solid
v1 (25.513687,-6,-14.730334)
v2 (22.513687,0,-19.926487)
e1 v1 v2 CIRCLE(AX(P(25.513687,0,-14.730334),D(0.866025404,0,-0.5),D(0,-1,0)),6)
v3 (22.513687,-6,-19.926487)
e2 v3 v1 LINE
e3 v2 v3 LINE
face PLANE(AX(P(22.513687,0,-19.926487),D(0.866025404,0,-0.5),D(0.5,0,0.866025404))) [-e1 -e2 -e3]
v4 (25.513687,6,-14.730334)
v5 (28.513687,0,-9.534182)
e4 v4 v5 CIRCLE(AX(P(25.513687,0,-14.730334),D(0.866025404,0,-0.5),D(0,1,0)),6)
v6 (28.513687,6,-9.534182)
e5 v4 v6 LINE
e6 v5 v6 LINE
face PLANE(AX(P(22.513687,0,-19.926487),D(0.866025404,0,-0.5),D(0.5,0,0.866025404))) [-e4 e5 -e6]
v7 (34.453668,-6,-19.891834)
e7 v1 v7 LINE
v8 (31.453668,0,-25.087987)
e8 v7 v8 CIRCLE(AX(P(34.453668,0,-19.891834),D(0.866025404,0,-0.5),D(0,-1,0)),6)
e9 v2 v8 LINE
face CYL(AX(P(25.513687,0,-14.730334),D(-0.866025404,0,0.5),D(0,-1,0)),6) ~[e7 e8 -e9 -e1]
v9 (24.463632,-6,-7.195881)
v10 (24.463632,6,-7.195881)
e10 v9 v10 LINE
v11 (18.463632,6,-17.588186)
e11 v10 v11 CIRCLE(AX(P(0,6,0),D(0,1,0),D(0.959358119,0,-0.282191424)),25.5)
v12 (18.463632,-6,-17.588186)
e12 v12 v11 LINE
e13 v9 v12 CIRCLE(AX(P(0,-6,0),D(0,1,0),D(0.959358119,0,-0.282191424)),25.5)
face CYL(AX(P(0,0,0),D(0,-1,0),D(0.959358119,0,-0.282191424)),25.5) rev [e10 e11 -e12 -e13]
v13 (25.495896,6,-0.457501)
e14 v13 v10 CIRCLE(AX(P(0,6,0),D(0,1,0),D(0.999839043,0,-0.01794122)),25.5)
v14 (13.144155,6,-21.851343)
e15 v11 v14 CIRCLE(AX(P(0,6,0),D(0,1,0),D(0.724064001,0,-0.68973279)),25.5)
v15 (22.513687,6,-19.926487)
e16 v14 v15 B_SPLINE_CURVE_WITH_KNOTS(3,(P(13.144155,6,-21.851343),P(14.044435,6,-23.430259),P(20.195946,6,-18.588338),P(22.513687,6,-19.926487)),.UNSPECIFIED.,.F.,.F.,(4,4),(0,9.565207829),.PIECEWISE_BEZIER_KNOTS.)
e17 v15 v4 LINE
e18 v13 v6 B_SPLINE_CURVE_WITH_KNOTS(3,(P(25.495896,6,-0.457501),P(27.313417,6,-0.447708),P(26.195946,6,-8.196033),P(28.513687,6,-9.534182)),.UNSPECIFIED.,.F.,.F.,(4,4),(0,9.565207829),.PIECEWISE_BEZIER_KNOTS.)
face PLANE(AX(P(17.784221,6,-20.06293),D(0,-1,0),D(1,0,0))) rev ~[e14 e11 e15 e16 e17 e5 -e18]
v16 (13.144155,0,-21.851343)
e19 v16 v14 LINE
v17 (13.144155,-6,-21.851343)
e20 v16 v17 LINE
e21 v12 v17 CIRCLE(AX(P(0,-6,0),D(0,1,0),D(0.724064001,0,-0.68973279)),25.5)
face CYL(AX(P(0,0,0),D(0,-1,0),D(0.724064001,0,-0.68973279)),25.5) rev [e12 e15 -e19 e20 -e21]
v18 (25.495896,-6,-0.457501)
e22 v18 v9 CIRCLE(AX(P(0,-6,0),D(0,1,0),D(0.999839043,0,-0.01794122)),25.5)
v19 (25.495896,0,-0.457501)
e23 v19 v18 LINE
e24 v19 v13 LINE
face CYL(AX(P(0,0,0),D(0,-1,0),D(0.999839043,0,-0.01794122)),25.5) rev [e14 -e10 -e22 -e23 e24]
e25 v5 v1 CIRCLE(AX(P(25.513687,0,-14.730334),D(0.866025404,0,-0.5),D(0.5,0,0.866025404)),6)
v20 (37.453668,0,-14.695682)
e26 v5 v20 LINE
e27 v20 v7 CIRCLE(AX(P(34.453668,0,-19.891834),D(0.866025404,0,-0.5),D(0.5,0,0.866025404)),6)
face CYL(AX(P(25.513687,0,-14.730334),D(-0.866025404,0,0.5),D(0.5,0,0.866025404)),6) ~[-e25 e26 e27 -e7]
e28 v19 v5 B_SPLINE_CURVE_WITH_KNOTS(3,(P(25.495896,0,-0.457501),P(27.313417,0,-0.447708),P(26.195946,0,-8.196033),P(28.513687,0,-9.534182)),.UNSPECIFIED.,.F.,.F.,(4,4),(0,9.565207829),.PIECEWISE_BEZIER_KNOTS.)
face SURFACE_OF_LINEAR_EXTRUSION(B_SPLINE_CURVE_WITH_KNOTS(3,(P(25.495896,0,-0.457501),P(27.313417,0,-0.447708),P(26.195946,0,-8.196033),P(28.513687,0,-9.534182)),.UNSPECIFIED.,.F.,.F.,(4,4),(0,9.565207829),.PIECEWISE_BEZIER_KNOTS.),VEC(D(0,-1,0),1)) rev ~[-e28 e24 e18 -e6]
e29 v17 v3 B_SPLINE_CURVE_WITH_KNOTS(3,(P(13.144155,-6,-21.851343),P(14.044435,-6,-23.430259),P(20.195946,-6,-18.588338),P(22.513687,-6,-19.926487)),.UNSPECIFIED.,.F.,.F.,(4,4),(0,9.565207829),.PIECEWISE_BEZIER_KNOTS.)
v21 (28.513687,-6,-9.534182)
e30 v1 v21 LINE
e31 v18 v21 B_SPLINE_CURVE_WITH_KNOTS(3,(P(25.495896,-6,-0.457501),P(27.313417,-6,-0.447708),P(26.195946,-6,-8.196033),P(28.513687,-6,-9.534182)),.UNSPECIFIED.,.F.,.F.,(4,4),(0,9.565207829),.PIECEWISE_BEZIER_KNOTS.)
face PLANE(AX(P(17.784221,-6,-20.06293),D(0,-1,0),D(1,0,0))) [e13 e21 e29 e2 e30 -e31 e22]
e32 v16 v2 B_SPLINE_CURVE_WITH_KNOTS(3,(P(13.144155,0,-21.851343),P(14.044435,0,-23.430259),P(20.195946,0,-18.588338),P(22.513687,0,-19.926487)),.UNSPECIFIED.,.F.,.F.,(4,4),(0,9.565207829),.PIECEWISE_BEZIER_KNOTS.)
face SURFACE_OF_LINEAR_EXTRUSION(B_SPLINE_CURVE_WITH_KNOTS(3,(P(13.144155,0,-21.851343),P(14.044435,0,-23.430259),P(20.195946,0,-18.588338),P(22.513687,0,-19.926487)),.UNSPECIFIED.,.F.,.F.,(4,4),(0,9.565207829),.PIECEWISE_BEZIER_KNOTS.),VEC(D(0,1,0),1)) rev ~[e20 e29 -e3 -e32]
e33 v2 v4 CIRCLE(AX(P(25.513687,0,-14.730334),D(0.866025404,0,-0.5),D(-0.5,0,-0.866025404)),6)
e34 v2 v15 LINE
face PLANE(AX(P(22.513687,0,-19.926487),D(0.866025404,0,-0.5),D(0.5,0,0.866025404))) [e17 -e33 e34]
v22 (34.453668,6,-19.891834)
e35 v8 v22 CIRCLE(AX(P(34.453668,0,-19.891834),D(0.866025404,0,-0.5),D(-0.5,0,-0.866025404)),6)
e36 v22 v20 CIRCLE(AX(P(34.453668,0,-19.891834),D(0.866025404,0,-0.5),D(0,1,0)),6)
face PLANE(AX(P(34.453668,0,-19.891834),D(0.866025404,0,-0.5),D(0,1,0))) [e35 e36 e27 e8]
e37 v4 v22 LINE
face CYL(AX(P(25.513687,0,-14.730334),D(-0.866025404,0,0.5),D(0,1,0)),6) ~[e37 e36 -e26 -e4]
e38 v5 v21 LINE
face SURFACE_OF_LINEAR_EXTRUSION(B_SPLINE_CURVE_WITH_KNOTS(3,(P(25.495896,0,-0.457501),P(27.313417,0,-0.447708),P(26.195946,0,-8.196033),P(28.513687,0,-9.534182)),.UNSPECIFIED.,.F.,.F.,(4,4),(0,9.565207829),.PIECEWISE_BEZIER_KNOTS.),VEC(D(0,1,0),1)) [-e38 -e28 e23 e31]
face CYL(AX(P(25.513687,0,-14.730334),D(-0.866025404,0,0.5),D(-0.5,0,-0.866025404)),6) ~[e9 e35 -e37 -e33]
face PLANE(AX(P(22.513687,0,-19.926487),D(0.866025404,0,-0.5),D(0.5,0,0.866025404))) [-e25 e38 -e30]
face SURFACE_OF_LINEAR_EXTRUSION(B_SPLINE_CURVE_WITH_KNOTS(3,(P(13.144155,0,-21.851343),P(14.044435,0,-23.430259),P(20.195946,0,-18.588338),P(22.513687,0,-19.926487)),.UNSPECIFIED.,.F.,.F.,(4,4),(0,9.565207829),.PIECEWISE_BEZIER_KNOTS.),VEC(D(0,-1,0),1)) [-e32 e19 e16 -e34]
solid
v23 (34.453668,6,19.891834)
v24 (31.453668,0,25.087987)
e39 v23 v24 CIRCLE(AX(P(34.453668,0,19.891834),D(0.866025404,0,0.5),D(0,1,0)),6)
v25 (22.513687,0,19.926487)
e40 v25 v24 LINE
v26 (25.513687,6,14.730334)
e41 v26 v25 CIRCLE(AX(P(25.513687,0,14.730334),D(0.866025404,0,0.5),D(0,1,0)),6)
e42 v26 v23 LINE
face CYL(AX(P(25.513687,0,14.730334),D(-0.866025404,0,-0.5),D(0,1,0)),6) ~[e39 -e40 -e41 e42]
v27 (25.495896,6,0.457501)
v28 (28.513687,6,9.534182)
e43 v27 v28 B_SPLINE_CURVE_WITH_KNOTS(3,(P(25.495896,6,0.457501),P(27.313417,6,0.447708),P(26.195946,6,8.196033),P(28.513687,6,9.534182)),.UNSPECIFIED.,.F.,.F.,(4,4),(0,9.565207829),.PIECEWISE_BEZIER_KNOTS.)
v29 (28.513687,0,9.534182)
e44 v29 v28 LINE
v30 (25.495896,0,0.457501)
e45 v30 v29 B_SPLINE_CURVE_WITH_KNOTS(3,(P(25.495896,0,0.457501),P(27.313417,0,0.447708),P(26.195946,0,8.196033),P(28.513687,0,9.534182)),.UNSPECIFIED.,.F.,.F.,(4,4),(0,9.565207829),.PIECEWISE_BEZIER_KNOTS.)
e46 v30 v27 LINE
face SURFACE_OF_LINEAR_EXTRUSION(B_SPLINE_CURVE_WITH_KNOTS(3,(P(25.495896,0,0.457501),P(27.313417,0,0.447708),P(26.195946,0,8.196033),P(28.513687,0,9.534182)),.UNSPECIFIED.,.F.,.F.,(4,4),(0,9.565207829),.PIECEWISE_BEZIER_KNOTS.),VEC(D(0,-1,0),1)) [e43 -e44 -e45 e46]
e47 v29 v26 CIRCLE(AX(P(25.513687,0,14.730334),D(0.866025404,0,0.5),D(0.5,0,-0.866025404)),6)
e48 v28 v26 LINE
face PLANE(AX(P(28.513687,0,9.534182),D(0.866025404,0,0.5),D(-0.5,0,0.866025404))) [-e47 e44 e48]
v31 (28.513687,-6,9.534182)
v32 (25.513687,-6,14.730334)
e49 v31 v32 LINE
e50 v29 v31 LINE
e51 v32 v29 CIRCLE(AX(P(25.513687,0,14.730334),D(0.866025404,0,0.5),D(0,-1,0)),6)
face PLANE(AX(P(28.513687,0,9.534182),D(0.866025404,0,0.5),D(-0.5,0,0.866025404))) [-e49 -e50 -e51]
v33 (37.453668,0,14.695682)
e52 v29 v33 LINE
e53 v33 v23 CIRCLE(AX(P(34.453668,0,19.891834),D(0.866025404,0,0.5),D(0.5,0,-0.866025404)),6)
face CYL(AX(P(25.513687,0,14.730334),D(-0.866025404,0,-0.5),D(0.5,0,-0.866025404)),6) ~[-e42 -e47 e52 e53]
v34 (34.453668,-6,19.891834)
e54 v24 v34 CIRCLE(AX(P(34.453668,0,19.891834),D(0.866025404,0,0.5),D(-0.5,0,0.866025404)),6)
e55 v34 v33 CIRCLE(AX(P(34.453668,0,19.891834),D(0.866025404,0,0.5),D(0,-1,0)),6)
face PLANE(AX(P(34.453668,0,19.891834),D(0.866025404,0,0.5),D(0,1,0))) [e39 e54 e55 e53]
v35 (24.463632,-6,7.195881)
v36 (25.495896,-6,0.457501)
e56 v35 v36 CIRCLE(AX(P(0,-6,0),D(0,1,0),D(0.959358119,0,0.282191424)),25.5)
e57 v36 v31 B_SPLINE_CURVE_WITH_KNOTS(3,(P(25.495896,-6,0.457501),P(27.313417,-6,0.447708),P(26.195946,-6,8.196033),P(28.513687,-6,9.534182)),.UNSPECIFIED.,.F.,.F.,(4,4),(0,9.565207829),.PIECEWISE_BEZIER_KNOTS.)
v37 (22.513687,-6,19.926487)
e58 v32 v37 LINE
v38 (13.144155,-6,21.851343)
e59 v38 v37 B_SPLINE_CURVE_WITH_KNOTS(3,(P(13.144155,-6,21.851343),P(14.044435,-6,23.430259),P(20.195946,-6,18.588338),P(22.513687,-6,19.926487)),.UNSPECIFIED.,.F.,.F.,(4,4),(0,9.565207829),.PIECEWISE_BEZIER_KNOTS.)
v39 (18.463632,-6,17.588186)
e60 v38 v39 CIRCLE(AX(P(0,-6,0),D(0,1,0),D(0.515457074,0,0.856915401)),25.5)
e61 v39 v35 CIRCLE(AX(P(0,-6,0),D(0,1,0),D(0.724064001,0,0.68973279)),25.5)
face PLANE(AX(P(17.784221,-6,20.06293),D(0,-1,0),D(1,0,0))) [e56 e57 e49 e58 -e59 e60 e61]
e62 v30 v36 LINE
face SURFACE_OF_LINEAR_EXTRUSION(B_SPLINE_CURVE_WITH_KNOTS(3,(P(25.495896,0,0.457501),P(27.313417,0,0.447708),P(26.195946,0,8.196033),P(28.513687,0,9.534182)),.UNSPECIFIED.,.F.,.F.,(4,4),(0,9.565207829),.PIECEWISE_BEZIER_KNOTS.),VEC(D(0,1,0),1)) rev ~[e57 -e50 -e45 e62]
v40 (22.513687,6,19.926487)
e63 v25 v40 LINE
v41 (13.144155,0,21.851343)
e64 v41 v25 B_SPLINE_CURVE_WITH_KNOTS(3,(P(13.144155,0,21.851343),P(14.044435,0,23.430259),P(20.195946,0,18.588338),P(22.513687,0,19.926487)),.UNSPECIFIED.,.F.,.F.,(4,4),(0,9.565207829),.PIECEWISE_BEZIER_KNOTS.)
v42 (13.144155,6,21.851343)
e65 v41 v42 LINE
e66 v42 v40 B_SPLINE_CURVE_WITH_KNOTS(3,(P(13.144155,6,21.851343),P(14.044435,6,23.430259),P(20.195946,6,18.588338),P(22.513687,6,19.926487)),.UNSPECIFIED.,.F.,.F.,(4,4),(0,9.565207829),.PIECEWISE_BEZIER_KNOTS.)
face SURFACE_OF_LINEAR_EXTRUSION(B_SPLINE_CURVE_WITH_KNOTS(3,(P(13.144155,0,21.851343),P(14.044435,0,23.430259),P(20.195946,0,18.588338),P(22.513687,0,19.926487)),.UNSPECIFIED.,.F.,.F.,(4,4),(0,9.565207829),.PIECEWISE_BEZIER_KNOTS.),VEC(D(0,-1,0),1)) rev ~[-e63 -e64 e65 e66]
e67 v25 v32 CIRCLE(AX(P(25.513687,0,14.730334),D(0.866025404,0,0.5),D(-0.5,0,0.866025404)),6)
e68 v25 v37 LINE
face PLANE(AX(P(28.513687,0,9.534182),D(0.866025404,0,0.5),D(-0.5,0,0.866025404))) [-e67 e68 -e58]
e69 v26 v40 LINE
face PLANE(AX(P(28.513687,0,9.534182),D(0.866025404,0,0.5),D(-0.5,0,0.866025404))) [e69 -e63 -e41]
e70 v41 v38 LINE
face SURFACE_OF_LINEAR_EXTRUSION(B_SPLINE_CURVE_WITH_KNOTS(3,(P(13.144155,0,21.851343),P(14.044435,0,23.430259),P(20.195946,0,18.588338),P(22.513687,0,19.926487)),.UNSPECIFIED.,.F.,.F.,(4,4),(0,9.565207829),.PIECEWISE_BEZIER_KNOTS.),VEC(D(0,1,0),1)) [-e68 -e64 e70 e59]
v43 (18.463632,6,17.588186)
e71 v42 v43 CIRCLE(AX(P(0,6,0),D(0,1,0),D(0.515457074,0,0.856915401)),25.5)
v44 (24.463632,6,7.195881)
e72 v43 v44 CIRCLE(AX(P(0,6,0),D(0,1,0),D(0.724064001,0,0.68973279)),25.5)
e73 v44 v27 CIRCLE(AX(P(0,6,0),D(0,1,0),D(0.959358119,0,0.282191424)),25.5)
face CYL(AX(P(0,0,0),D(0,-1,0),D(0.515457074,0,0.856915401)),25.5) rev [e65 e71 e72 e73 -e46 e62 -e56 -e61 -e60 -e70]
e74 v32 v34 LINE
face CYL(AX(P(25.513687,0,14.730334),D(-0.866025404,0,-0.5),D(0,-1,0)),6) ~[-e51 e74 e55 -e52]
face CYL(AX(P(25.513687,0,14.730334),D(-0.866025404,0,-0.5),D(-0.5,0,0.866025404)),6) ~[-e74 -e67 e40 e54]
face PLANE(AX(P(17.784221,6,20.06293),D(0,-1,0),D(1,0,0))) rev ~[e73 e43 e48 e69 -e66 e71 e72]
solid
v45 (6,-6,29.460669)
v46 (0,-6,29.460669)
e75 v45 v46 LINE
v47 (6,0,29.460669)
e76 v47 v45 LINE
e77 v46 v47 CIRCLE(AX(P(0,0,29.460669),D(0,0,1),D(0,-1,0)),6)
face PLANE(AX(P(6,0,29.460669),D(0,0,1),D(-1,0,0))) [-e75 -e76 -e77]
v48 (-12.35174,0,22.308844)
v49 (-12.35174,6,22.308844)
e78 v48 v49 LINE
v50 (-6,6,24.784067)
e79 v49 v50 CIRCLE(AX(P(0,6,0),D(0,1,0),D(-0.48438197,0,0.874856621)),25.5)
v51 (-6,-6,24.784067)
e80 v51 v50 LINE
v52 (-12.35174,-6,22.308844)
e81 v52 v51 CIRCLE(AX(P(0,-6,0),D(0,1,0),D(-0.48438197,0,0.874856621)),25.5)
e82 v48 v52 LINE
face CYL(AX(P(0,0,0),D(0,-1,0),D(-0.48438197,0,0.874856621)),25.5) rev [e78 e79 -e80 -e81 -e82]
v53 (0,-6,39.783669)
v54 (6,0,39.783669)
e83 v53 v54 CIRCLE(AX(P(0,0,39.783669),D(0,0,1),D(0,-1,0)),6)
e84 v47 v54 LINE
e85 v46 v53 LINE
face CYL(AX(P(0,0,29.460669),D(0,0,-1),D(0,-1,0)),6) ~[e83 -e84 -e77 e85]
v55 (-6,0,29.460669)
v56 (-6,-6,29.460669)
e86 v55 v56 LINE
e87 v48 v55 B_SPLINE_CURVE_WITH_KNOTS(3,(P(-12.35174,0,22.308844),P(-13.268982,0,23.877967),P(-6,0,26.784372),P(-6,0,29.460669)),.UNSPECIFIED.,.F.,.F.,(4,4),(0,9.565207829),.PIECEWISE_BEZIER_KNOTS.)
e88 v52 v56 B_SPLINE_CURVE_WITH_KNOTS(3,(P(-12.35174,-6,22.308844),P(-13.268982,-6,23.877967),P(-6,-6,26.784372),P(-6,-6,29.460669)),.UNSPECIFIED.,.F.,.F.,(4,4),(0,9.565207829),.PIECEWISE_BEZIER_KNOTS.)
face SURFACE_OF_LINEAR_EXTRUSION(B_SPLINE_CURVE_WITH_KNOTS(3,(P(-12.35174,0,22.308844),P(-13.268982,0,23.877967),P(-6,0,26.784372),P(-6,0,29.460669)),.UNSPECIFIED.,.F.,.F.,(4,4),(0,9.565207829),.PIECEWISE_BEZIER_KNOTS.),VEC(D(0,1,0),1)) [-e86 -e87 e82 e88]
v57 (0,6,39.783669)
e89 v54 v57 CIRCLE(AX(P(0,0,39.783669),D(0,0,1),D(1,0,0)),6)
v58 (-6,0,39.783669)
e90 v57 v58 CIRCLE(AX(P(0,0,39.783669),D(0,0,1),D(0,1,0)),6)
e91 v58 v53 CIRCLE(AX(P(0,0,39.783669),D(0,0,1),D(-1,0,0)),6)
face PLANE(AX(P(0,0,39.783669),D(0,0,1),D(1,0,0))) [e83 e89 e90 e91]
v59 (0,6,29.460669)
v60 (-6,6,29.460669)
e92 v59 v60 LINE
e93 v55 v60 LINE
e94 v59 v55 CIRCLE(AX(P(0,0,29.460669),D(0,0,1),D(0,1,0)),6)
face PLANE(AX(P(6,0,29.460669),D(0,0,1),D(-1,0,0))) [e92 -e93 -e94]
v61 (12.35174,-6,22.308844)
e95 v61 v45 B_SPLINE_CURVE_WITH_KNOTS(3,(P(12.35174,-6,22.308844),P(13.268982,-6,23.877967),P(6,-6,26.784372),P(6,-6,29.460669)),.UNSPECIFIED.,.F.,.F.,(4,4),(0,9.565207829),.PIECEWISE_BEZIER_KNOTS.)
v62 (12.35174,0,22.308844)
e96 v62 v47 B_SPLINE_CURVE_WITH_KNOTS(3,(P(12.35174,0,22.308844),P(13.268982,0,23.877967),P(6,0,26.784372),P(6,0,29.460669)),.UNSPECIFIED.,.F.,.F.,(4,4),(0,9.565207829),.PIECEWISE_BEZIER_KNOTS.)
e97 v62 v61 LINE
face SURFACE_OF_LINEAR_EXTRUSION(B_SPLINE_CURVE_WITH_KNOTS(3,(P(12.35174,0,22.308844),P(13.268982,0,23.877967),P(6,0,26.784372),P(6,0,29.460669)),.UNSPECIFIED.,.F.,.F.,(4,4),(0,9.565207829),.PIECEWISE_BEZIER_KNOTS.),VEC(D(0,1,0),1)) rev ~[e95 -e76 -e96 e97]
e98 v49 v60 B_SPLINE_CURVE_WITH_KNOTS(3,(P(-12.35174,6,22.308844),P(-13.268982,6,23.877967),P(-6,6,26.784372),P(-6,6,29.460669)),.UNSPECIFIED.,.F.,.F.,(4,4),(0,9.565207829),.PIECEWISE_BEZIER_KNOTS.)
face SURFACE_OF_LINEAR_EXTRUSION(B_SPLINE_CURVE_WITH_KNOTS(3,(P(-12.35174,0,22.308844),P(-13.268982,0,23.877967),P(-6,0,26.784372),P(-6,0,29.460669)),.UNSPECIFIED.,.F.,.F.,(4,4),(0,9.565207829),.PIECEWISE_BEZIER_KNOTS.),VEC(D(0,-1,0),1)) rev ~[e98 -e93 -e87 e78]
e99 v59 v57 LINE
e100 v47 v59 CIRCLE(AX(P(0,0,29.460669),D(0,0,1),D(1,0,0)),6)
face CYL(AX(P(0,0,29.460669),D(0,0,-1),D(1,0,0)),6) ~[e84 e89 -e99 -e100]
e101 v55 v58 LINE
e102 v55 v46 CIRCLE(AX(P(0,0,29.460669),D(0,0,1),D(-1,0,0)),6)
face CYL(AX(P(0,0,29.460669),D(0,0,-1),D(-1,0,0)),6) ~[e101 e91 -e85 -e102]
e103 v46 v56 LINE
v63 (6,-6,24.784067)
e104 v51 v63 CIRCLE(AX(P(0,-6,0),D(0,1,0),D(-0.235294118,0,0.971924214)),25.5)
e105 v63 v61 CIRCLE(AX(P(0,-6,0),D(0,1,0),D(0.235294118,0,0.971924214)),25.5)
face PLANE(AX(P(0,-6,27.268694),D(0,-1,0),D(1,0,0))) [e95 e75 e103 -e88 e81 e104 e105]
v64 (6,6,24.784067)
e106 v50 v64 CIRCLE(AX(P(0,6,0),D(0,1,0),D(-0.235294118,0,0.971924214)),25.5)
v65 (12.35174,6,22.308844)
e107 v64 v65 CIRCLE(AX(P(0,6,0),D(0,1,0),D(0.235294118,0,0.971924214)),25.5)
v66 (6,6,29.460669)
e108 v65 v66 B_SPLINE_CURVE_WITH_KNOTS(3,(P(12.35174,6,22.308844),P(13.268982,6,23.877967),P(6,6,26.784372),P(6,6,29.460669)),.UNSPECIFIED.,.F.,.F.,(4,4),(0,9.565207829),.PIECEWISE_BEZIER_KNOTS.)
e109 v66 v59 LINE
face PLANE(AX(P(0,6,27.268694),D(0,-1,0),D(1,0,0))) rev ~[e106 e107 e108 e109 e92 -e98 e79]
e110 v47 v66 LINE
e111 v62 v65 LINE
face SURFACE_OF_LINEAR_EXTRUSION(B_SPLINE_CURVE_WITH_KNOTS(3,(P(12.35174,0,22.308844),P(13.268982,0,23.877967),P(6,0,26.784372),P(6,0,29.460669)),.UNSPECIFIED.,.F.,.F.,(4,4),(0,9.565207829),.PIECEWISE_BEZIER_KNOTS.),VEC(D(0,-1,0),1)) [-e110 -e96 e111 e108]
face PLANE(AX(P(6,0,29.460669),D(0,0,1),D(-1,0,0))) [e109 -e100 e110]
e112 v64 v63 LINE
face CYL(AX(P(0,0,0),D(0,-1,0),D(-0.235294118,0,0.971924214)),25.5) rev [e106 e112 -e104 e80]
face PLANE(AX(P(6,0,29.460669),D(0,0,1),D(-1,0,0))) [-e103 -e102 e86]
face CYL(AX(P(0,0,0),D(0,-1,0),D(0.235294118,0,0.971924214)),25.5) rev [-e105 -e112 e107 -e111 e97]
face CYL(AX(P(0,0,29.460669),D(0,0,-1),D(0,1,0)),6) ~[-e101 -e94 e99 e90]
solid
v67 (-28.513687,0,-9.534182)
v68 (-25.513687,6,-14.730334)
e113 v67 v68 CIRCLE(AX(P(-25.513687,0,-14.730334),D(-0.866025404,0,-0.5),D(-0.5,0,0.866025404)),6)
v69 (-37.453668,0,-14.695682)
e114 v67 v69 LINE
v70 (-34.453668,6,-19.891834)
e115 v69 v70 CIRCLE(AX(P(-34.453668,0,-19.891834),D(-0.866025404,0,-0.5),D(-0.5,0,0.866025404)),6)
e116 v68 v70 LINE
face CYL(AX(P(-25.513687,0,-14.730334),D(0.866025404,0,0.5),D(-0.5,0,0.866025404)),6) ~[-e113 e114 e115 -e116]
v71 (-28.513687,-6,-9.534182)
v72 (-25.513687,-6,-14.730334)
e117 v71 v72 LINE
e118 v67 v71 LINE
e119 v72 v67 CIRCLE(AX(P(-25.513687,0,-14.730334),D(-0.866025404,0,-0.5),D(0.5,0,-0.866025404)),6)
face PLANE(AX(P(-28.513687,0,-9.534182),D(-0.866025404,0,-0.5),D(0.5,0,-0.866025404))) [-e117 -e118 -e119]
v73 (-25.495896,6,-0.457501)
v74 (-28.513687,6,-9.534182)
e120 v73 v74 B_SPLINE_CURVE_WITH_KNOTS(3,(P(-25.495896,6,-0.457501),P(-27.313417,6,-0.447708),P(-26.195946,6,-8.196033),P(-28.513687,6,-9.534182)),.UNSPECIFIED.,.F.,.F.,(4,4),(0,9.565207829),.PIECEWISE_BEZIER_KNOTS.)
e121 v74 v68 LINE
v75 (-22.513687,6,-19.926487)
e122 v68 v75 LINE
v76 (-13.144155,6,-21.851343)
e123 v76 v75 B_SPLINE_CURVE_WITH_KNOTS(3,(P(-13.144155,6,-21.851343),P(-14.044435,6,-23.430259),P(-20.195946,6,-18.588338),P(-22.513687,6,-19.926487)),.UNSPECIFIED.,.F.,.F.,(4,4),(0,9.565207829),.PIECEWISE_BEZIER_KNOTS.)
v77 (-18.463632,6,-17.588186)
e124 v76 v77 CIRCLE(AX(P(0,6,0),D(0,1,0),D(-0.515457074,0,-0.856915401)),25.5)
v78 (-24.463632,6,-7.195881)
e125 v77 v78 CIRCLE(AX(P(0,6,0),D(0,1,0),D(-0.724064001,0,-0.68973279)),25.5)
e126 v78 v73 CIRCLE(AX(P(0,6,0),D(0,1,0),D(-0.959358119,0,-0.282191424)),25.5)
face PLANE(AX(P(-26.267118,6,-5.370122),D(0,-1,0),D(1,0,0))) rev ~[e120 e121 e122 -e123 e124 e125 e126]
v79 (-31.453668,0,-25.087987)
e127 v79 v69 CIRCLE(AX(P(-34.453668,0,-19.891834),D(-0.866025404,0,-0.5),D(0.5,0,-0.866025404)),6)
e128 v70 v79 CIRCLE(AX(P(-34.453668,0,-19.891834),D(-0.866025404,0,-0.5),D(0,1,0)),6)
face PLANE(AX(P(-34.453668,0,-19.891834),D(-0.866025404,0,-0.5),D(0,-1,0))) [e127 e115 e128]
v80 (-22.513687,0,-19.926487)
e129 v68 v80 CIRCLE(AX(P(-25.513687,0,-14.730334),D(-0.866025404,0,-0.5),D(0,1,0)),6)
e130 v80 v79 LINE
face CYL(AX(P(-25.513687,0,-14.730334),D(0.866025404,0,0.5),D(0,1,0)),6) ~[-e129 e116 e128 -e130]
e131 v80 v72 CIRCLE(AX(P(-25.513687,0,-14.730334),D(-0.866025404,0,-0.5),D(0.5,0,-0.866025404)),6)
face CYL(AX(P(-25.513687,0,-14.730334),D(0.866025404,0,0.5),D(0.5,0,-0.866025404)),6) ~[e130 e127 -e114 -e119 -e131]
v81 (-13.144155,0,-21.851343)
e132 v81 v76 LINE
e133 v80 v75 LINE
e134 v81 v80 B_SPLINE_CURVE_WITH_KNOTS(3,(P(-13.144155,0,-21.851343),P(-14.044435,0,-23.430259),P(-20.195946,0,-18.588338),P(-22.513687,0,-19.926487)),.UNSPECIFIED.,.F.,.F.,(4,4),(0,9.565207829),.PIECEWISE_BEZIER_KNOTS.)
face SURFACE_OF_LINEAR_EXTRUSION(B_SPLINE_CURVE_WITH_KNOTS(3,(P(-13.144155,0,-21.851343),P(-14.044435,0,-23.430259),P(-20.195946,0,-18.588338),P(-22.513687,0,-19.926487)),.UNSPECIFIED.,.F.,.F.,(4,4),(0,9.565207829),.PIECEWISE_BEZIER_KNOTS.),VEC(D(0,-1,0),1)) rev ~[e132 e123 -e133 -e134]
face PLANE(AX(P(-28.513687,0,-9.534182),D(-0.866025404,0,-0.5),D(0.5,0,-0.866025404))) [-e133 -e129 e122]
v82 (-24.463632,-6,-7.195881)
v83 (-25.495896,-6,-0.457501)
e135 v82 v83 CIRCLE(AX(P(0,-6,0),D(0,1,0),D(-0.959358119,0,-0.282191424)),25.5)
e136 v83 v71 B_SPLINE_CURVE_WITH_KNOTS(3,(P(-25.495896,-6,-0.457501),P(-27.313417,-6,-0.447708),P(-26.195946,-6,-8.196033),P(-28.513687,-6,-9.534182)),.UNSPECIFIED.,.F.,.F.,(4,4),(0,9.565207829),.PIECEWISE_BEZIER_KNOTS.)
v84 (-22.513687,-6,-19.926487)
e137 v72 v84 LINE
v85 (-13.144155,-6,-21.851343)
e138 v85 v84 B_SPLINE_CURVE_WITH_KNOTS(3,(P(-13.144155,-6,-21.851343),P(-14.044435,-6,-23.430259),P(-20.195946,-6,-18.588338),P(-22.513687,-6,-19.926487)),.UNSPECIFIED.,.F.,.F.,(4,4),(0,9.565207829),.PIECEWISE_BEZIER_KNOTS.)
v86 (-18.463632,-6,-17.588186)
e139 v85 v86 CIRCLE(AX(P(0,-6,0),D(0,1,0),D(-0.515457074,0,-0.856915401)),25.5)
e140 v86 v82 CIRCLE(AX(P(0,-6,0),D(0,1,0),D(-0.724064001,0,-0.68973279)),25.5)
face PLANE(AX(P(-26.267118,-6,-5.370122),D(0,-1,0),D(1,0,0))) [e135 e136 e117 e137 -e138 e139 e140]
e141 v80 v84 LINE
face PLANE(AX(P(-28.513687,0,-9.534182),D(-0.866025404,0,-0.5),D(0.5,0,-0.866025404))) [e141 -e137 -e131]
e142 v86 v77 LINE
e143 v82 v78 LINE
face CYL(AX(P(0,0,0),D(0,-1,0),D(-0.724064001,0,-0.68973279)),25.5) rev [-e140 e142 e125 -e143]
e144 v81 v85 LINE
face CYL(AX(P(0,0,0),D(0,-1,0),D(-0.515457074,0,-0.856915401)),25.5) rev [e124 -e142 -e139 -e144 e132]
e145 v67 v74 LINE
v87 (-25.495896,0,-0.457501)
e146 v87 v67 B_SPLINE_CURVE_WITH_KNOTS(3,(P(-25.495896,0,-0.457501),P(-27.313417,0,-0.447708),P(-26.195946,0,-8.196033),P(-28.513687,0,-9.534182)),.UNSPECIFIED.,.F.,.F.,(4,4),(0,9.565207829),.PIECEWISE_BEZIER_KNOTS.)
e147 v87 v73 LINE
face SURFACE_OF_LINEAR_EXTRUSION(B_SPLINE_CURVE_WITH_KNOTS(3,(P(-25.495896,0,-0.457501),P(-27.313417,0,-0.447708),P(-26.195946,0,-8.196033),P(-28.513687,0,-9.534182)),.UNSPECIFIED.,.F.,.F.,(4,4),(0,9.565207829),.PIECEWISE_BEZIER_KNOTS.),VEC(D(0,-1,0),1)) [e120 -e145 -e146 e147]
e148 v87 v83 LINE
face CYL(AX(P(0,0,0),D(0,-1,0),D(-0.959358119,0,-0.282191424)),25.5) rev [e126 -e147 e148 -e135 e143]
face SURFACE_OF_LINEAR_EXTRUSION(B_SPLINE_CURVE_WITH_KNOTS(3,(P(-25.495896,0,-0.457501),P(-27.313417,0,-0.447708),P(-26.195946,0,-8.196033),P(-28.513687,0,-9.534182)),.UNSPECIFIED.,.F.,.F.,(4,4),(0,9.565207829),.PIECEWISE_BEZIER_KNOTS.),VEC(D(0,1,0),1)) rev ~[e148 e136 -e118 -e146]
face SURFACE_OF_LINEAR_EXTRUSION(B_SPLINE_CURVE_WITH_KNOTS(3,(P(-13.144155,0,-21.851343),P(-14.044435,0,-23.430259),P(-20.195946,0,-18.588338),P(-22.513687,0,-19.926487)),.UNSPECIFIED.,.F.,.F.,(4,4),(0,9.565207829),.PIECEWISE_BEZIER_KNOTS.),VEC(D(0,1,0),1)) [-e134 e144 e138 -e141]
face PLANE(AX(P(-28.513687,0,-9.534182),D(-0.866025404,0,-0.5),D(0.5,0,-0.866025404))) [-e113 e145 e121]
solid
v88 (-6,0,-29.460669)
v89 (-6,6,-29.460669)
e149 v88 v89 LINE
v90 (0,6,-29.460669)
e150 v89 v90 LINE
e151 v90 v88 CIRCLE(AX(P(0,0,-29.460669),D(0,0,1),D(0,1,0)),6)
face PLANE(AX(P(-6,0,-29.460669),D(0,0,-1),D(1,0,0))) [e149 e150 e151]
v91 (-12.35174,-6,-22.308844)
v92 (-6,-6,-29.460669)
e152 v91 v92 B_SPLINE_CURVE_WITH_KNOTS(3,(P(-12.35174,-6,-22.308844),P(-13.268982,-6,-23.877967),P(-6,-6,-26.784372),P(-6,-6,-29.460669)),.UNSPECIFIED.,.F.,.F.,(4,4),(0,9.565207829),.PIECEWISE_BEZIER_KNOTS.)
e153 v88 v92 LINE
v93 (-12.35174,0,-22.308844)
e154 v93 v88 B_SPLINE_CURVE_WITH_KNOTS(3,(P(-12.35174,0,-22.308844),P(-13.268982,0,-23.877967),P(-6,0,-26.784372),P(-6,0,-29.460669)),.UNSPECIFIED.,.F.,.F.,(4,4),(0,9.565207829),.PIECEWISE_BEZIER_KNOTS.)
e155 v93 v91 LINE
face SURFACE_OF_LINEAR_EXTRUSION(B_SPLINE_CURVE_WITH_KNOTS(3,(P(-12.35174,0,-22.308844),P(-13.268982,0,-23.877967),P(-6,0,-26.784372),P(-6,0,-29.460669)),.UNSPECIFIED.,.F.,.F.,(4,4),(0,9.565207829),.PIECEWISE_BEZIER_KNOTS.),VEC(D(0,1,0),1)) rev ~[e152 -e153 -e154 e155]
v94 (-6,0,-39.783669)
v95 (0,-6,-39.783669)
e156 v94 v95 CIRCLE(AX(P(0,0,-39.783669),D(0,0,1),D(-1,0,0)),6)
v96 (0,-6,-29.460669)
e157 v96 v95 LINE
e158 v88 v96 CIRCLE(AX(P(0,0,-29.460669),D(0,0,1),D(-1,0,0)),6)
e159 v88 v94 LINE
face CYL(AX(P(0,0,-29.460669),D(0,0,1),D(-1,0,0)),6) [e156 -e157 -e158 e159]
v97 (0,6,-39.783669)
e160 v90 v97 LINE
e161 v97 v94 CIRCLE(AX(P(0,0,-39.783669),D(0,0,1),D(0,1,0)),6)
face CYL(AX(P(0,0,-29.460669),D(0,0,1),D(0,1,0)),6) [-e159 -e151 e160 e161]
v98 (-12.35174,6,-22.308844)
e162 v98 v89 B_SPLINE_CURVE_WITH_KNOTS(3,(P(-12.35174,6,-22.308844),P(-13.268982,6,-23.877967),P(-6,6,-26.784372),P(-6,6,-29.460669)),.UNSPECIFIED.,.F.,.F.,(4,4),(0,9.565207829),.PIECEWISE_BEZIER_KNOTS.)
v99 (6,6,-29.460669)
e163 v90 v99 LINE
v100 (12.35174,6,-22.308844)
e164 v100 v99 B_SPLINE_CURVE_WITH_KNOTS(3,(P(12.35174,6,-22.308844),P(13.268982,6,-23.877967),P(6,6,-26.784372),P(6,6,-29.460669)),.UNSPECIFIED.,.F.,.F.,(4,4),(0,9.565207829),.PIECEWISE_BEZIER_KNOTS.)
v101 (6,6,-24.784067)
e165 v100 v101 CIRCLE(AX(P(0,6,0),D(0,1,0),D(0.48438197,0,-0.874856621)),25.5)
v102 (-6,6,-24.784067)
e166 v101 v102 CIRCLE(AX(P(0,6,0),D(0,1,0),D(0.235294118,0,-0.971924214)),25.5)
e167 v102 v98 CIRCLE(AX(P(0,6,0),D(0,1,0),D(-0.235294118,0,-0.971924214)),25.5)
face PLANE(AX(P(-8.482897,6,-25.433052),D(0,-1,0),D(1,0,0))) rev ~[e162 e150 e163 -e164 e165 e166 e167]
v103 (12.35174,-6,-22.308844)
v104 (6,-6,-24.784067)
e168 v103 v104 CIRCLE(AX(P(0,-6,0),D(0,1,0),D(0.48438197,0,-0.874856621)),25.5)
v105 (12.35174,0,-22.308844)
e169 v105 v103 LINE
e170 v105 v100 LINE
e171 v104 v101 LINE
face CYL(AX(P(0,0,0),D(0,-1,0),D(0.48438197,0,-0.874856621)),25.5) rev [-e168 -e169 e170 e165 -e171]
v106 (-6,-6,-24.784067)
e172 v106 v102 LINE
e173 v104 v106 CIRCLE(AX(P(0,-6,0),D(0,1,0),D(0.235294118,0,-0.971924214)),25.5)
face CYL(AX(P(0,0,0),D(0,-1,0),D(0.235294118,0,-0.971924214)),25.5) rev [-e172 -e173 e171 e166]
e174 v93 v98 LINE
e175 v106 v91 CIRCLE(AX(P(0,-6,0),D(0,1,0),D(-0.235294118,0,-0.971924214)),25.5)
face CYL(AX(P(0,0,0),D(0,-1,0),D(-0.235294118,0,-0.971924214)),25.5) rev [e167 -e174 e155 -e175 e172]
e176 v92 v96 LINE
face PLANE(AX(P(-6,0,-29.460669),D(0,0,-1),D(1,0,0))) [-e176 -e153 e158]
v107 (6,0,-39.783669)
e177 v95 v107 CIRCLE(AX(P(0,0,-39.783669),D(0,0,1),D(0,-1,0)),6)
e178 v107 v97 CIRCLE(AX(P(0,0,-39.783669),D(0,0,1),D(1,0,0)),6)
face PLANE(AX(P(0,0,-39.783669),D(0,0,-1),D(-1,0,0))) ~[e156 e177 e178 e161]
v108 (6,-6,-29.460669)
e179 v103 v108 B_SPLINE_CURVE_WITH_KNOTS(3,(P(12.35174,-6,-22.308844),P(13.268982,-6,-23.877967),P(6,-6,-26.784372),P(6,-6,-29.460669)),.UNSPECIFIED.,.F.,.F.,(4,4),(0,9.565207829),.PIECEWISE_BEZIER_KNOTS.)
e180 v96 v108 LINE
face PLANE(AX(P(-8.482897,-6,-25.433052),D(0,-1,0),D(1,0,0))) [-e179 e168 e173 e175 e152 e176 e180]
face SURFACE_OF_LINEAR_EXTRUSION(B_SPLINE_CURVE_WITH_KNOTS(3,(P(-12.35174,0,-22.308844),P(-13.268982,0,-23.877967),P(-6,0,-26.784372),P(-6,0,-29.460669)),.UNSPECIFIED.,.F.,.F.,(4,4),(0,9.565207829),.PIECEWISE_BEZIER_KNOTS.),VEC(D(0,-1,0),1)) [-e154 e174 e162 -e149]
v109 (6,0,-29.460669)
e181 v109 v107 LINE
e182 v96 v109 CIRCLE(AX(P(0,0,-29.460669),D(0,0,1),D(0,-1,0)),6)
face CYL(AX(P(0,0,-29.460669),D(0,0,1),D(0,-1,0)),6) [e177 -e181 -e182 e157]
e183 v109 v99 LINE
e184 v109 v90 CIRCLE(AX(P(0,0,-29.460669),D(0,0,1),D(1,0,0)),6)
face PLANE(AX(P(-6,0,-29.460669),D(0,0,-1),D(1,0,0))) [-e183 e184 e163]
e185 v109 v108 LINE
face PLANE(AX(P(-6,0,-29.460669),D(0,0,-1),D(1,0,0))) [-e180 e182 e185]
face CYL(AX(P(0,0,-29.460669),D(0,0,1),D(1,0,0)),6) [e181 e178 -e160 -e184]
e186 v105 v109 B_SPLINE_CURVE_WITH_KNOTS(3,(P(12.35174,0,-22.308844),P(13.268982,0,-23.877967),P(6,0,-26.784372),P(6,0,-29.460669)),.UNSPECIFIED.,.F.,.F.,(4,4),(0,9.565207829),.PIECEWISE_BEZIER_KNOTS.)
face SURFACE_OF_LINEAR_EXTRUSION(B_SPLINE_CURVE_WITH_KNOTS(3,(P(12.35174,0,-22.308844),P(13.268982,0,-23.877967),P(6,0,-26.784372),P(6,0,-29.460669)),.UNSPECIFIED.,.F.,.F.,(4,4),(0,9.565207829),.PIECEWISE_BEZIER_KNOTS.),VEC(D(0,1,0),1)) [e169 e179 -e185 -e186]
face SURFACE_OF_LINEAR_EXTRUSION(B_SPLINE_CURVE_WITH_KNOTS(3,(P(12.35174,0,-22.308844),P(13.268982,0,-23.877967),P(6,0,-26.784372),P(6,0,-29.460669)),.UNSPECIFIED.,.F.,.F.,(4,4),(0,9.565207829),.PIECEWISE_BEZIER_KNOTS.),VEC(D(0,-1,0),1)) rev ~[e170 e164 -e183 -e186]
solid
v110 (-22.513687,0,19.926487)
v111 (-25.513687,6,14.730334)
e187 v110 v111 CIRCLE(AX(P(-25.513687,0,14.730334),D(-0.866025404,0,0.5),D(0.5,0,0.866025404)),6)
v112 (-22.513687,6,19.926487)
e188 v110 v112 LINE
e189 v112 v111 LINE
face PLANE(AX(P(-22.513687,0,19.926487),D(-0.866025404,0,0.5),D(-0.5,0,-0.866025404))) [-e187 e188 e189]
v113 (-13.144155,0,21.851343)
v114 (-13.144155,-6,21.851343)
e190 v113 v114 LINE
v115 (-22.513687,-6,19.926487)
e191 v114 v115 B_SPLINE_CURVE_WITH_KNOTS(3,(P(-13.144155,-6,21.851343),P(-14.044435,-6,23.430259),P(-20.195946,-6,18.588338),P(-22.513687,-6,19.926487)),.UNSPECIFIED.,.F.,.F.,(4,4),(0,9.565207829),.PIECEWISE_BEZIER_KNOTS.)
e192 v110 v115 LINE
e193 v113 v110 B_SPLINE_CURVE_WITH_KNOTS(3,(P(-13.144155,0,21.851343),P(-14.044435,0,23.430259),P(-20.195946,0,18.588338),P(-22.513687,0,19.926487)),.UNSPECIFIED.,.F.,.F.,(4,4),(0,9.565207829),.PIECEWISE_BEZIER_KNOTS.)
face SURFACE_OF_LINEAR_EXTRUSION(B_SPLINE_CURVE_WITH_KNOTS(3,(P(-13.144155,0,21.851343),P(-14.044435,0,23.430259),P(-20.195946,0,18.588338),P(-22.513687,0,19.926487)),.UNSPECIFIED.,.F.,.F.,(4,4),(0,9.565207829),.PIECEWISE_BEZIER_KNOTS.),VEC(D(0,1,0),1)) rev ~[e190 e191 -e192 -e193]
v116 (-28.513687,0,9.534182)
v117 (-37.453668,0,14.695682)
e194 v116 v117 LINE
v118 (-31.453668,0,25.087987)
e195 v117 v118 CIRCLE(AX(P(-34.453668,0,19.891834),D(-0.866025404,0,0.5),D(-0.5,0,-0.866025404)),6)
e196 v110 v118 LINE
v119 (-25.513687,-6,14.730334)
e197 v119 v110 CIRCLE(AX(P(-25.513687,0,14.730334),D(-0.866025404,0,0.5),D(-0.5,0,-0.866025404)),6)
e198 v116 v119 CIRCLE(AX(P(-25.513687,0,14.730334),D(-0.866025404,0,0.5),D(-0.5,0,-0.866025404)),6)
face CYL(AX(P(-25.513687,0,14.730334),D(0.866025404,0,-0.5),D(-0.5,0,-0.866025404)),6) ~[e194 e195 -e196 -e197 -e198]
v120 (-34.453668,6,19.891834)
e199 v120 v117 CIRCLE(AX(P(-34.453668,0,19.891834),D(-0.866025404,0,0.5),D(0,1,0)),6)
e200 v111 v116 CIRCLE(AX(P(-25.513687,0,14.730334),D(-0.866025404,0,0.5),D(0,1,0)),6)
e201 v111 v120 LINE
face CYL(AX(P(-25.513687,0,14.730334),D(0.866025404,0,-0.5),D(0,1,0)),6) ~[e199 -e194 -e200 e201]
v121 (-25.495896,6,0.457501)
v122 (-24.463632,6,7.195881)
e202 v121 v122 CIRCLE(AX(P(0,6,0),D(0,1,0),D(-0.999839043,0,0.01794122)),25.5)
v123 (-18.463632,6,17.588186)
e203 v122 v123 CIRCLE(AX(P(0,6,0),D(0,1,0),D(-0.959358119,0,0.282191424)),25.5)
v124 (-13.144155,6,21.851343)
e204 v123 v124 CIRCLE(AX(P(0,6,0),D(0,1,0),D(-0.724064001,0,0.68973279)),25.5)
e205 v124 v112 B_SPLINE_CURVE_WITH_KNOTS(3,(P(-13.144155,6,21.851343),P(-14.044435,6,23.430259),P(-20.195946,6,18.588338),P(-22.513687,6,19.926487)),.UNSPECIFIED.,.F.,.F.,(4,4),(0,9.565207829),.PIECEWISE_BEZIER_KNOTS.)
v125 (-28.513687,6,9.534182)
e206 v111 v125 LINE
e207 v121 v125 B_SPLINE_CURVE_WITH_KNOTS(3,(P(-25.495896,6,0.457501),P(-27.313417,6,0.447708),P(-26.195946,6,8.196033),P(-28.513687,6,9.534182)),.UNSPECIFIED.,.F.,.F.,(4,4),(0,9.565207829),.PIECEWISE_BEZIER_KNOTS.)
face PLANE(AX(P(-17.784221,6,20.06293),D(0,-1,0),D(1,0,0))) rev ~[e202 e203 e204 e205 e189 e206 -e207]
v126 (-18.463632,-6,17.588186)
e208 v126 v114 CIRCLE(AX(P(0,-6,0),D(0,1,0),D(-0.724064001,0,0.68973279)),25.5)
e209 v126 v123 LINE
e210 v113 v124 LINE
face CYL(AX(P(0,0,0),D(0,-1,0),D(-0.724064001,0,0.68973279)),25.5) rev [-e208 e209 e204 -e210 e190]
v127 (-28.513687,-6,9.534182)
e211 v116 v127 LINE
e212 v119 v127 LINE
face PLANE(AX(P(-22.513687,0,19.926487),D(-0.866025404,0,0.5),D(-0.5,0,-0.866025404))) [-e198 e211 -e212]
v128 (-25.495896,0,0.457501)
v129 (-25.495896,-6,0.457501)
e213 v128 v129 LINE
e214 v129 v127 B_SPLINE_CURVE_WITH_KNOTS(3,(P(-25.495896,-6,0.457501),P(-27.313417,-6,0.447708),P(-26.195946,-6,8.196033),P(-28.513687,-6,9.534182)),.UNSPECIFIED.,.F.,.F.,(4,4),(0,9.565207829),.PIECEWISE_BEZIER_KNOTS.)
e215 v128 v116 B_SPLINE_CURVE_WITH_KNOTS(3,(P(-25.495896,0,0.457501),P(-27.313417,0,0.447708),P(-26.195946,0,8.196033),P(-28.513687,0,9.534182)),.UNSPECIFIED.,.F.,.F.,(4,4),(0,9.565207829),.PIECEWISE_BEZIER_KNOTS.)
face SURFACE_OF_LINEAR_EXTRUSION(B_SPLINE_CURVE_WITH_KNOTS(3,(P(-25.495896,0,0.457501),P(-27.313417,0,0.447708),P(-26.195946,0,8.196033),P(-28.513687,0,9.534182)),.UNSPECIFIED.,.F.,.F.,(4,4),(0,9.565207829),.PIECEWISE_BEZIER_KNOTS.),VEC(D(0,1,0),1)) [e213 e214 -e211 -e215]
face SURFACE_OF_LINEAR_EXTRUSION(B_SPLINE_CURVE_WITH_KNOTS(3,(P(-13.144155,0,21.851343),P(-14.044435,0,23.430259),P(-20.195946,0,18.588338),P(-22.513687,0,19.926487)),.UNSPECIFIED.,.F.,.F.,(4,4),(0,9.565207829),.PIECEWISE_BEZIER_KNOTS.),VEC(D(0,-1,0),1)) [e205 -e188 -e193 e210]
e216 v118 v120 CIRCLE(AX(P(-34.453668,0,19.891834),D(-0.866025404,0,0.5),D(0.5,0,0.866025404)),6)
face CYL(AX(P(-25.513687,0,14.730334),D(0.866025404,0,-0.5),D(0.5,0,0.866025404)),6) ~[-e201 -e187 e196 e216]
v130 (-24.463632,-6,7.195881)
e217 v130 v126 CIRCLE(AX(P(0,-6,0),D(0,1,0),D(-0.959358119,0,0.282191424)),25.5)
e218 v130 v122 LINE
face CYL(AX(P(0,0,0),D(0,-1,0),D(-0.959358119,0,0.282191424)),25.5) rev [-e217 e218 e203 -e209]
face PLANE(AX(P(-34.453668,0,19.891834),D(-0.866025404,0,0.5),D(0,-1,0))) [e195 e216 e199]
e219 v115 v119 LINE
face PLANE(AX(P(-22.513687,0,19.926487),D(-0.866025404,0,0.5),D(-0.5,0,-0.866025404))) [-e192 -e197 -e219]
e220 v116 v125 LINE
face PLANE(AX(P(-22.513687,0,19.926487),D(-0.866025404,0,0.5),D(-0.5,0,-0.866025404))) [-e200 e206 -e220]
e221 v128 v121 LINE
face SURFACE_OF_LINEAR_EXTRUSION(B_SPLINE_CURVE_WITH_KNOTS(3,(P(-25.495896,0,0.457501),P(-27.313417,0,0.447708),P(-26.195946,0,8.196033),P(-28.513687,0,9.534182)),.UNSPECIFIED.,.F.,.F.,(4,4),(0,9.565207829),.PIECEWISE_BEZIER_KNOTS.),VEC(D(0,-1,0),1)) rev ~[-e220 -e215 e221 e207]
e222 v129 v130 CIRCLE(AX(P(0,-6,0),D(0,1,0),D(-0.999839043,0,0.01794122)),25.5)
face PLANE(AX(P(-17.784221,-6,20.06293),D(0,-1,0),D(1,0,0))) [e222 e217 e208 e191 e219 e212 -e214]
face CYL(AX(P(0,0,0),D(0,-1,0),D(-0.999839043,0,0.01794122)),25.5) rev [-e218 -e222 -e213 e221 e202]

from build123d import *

# Parameters (mm, degrees)
F1_DEPTH  = 6
F3_DEPTH  = 10.323
F6_DEPTH  = 10.323
F8_DEPTH  = 10.323
F9_R      = 6
F10_DEPTH = 10.323
F11_R     = 6
F12_DEPTH = 10.323


with BuildPart() as f1:
    # F0 (on Front) → F1 (new body, symmetric)
    with BuildSketch(Plane.XZ):
        with BuildLine():
            ThreePointArc((-6, 24.7840674628), (0, 25.5), (6, 24.7840674628))
            Line((6, 24.7840674628), (6, 29.4606685638))
            Line((6, 29.4606685638), (-6, 29.4606685638))
            Line((-6, 29.4606685638), (-6, 24.7840674628))
        make_face()
        with BuildLine():
            ThreePointArc((6, 24.7840674628), (9.2589564923, 23.7596659209), (12.3517402257, 22.3088438382))
            add(Edge.make_bspline(
                [(12.3517402257, 22.3088438382), (13.2689820603, 23.877967149), (6, 26.7843715847), (6, 29.4606685638)],
                knots=[0, 0, 0, 0, 9.5652078285, 9.5652078285, 9.5652078285, 9.5652078285], degree=3))
            Line((6, 29.4606685638), (6, 24.7840674628))
        make_face()
        with BuildLine():
            ThreePointArc((-12.3517402257, 22.3088438382), (-9.2589564923, 23.7596659209), (-6, 24.7840674628))
            Line((-6, 24.7840674628), (-6, 29.4606685638))
            add(Edge.make_bspline(
                [(-12.3517402257, 22.3088438382), (-13.2689820603, 23.877967149), (-6, 26.7843715847), (-6, 29.4606685638)],
                knots=[0, 0, 0, 0, 9.5652078285, 9.5652078285, 9.5652078285, 9.5652078285], degree=3))
        make_face()
    extrude(amount=F1_DEPTH, both=True)

    # F2 (on face) → F3 (join)
    with BuildSketch(Plane.XY.offset(29.4606685638)):
        with BuildLine():
            ThreePointArc((0, -6), (4.2426406871, -4.2426406871), (6, 0))
            ThreePointArc((6, 0), (4.2426406871, 4.2426406871), (0, 6))
            ThreePointArc((0, 6), (-4.2426406871, 4.2426406871), (-6, 0))
            ThreePointArc((-6, 0), (-4.2426406871, -4.2426406871), (0, -6))
        make_face()
    extrude(amount=F3_DEPTH)


with BuildPart() as f1b:
    # F0 (on Front) → F1, piece 2 (new body, symmetric)
    with BuildSketch(Plane.XZ):
        with BuildLine():
            add(Edge.make_bspline(
                [(-13.1441553801, 21.8513427355), (-14.0444351117, 23.430259121), (-20.1959462167, 18.588338215), (-22.5136873888, 19.9264867046)],
                knots=[0, 0, 0, 0, 9.5652078285, 9.5652078285, 9.5652078285, 9.5652078285], degree=3))
            Line((-22.5136873888, 19.9264867046), (-18.4636320319, 17.5881861541))
            ThreePointArc((-18.4636320319, 17.5881861541), (-15.9469960268, 19.8983244953), (-13.1441553801, 21.8513427355))
        make_face()
        with BuildLine():
            Line((-18.4636320319, 17.5881861541), (-22.5136873888, 19.9264867046))
            Line((-22.5136873888, 19.9264867046), (-28.5136873888, 9.5341818592))
            Line((-28.5136873888, 9.5341818592), (-24.4636320319, 7.1958813087))
            ThreePointArc((-24.4636320319, 7.1958813087), (-22.0836477965, 12.75), (-18.4636320319, 17.5881861541))
        make_face()
        with BuildLine():
            Line((-24.4636320319, 7.1958813087), (-28.5136873888, 9.5341818592))
            add(Edge.make_bspline(
                [(-25.4958956058, 0.4575011027), (-27.3134171719, 0.447708028), (-26.1959462167, 8.1960333696), (-28.5136873888, 9.5341818592)],
                knots=[0, 0, 0, 0, 9.5652078285, 9.5652078285, 9.5652078285, 9.5652078285], degree=3))
            ThreePointArc((-25.4958956058, 0.4575011027), (-25.2059525191, 3.8613414256), (-24.4636320319, 7.1958813087))
        make_face()
    extrude(amount=F1_DEPTH, both=True)

    # F9 (on face) → F10 (join)
    with BuildSketch(Plane(origin=(-25.5136873888, 0, 14.7303342819), x_dir=(0, -1, 0), z_dir=(-0.8660254038, 0, 0.5))):
        Circle(F9_R)
        with BuildLine():
            ThreePointArc((0, -6), (4.2426406871, -4.2426406871), (6, 0))
            ThreePointArc((6, 0), (4.2426406871, 4.2426406871), (0, 6))
            ThreePointArc((0, 6), (-4.2426406871, 4.2426406871), (-6, 0))
            ThreePointArc((-6, 0), (-4.2426406871, -4.2426406871), (0, -6))
        make_face()
    extrude(amount=F10_DEPTH)


with BuildPart() as f1c:
    # F0 (on Front) → F1, piece 3 (new body, symmetric)
    with BuildSketch(Plane.XZ):
        with BuildLine():
            ThreePointArc((13.1441553801, 21.8513427355), (15.9469960268, 19.8983244953), (18.4636320319, 17.5881861541))
            Line((18.4636320319, 17.5881861541), (22.5136873888, 19.9264867046))
            add(Edge.make_bspline(
                [(13.1441553801, 21.8513427355), (14.0444351117, 23.430259121), (20.1959462167, 18.588338215), (22.5136873888, 19.9264867046)],
                knots=[0, 0, 0, 0, 9.5652078285, 9.5652078285, 9.5652078285, 9.5652078285], degree=3))
        make_face()
        with BuildLine():
            ThreePointArc((18.4636320319, 17.5881861541), (22.0836477965, 12.75), (24.4636320319, 7.1958813087))
            Line((24.4636320319, 7.1958813087), (28.5136873888, 9.5341818592))
            Line((28.5136873888, 9.5341818592), (22.5136873888, 19.9264867046))
            Line((22.5136873888, 19.9264867046), (18.4636320319, 17.5881861541))
        make_face()
        with BuildLine():
            ThreePointArc((24.4636320319, 7.1958813087), (25.2059525191, 3.8613414256), (25.4958956058, 0.4575011027))
            add(Edge.make_bspline(
                [(25.4958956058, 0.4575011027), (27.3134171719, 0.447708028), (26.1959462167, 8.1960333696), (28.5136873888, 9.5341818592)],
                knots=[0, 0, 0, 0, 9.5652078285, 9.5652078285, 9.5652078285, 9.5652078285], degree=3))
            Line((28.5136873888, 9.5341818592), (24.4636320319, 7.1958813087))
        make_face()
    extrude(amount=F1_DEPTH, both=True)

    # F5 (on face) → F6 (join)
    with BuildSketch(Plane(origin=(25.5136873888, 0, 14.7303342819), x_dir=(0, 1, 0), z_dir=(0.8660254038, 0, 0.5))):
        with BuildLine():
            ThreePointArc((0, -6), (4.2426406871, -4.2426406871), (6, 0))
            ThreePointArc((6, 0), (4.2426406871, 4.2426406871), (0, 6))
            ThreePointArc((0, 6), (-4.2426406871, 4.2426406871), (-6, 0))
            ThreePointArc((-6, 0), (-4.2426406871, -4.2426406871), (0, -6))
        make_face()
    extrude(amount=F6_DEPTH)


with BuildPart() as f1d:
    # F0 (on Front) → F1, piece 4 (new body, symmetric)
    with BuildSketch(Plane.XZ):
        with BuildLine():
            add(Edge.make_bspline(
                [(-25.4958956058, -0.4575011027), (-27.3134171719, -0.447708028), (-26.1959462167, -8.1960333696), (-28.5136873888, -9.5341818592)],
                knots=[0, 0, 0, 0, 9.5652078285, 9.5652078285, 9.5652078285, 9.5652078285], degree=3))
            Line((-28.5136873888, -9.5341818592), (-24.4636320319, -7.1958813087))
            ThreePointArc((-24.4636320319, -7.1958813087), (-25.2059525191, -3.8613414256), (-25.4958956058, -0.4575011027))
        make_face()
        with BuildLine():
            Line((-28.5136873888, -9.5341818592), (-22.5136873888, -19.9264867046))
            Line((-22.5136873888, -19.9264867046), (-18.4636320319, -17.5881861541))
            ThreePointArc((-18.4636320319, -17.5881861541), (-22.0836477965, -12.75), (-24.4636320319, -7.1958813087))
            Line((-24.4636320319, -7.1958813087), (-28.5136873888, -9.5341818592))
        make_face()
        with BuildLine():
            Line((-18.4636320319, -17.5881861541), (-22.5136873888, -19.9264867046))
            add(Edge.make_bspline(
                [(-13.1441553801, -21.8513427355), (-14.0444351117, -23.430259121), (-20.1959462167, -18.588338215), (-22.5136873888, -19.9264867046)],
                knots=[0, 0, 0, 0, 9.5652078285, 9.5652078285, 9.5652078285, 9.5652078285], degree=3))
            ThreePointArc((-13.1441553801, -21.8513427355), (-15.9469960268, -19.8983244953), (-18.4636320319, -17.5881861541))
        make_face()
    extrude(amount=F1_DEPTH, both=True)

    # F11 (on face) → F12 (join)
    with BuildSketch(Plane(origin=(-25.5136873888, 0, -14.7303342819), x_dir=(0, -1, 0), z_dir=(-0.8660254038, 0, -0.5))):
        Circle(F11_R)
        with BuildLine():
            ThreePointArc((0, -6), (4.2426406871, -4.2426406871), (6, 0))
            ThreePointArc((6, 0), (4.2426406871, 4.2426406871), (0, 6))
            ThreePointArc((0, 6), (-4.2426406871, 4.2426406871), (-6, 0))
            ThreePointArc((-6, 0), (-4.2426406871, -4.2426406871), (0, -6))
        make_face()
    extrude(amount=F12_DEPTH)


with BuildPart() as f1e:
    # F0 (on Front) → F1, piece 5 (new body, symmetric)
    with BuildSketch(Plane.XZ):
        with BuildLine():
            Line((-6, -29.4606685638), (-6, -24.7840674628))
            ThreePointArc((-6, -24.7840674628), (-9.2589564923, -23.7596659209), (-12.3517402257, -22.3088438382))
            add(Edge.make_bspline(
                [(-12.3517402257, -22.3088438382), (-13.2689820603, -23.877967149), (-6, -26.7843715847), (-6, -29.4606685638)],
                knots=[0, 0, 0, 0, 9.5652078285, 9.5652078285, 9.5652078285, 9.5652078285], degree=3))
        make_face()
        with BuildLine():
            Line((6, -29.4606685638), (6, -24.7840674628))
            ThreePointArc((6, -24.7840674628), (0, -25.5), (-6, -24.7840674628))
            Line((-6, -24.7840674628), (-6, -29.4606685638))
            Line((-6, -29.4606685638), (6, -29.4606685638))
        make_face()
        with BuildLine():
            add(Edge.make_bspline(
                [(12.3517402257, -22.3088438382), (13.2689820603, -23.877967149), (6, -26.7843715847), (6, -29.4606685638)],
                knots=[0, 0, 0, 0, 9.5652078285, 9.5652078285, 9.5652078285, 9.5652078285], degree=3))
            ThreePointArc((12.3517402257, -22.3088438382), (9.2589564923, -23.7596659209), (6, -24.7840674628))
            Line((6, -24.7840674628), (6, -29.4606685638))
        make_face()
    extrude(amount=F1_DEPTH, both=True)

    # F4: F1 across plane
    add(f1.part.mirror(Plane.XY))


with BuildPart() as f1f:
    # F0 (on Front) → F1, piece 6 (new body, symmetric)
    with BuildSketch(Plane.XZ):
        with BuildLine():
            Line((22.5136873888, -19.9264867046), (18.4636320319, -17.5881861541))
            ThreePointArc((18.4636320319, -17.5881861541), (15.9469960268, -19.8983244953), (13.1441553801, -21.8513427355))
            add(Edge.make_bspline(
                [(13.1441553801, -21.8513427355), (14.0444351117, -23.430259121), (20.1959462167, -18.588338215), (22.5136873888, -19.9264867046)],
                knots=[0, 0, 0, 0, 9.5652078285, 9.5652078285, 9.5652078285, 9.5652078285], degree=3))
        make_face()
        with BuildLine():
            Line((28.5136873888, -9.5341818592), (24.4636320319, -7.1958813087))
            ThreePointArc((24.4636320319, -7.1958813087), (22.0836477965, -12.75), (18.4636320319, -17.5881861541))
            Line((18.4636320319, -17.5881861541), (22.5136873888, -19.9264867046))
            Line((22.5136873888, -19.9264867046), (28.5136873888, -9.5341818592))
        make_face()
        with BuildLine():
            add(Edge.make_bspline(
                [(25.4958956058, -0.4575011027), (27.3134171719, -0.447708028), (26.1959462167, -8.1960333696), (28.5136873888, -9.5341818592)],
                knots=[0, 0, 0, 0, 9.5652078285, 9.5652078285, 9.5652078285, 9.5652078285], degree=3))
            ThreePointArc((25.4958956058, -0.4575011027), (25.2059525191, -3.8613414256), (24.4636320319, -7.1958813087))
            Line((24.4636320319, -7.1958813087), (28.5136873888, -9.5341818592))
        make_face()
    extrude(amount=F1_DEPTH, both=True)

    # F7 (on face) → F8 (join)
    with BuildSketch(Plane(origin=(25.5136873888, 0, -14.7303342819), x_dir=(0, 1, 0), z_dir=(0.8660254038, 0, -0.5))):
        with BuildLine():
            ThreePointArc((0, -6), (4.2426406871, -4.2426406871), (6, 0))
            ThreePointArc((6, 0), (4.2426406871, 4.2426406871), (0, 6))
            ThreePointArc((0, 6), (-4.2426406871, 4.2426406871), (-6, 0))
            ThreePointArc((-6, 0), (-4.2426406871, -4.2426406871), (0, -6))
        make_face()
    extrude(amount=F8_DEPTH)


solid = Compound([f1.part, f1b.part, f1c.part, f1d.part, f1e.part, f1f.part])
